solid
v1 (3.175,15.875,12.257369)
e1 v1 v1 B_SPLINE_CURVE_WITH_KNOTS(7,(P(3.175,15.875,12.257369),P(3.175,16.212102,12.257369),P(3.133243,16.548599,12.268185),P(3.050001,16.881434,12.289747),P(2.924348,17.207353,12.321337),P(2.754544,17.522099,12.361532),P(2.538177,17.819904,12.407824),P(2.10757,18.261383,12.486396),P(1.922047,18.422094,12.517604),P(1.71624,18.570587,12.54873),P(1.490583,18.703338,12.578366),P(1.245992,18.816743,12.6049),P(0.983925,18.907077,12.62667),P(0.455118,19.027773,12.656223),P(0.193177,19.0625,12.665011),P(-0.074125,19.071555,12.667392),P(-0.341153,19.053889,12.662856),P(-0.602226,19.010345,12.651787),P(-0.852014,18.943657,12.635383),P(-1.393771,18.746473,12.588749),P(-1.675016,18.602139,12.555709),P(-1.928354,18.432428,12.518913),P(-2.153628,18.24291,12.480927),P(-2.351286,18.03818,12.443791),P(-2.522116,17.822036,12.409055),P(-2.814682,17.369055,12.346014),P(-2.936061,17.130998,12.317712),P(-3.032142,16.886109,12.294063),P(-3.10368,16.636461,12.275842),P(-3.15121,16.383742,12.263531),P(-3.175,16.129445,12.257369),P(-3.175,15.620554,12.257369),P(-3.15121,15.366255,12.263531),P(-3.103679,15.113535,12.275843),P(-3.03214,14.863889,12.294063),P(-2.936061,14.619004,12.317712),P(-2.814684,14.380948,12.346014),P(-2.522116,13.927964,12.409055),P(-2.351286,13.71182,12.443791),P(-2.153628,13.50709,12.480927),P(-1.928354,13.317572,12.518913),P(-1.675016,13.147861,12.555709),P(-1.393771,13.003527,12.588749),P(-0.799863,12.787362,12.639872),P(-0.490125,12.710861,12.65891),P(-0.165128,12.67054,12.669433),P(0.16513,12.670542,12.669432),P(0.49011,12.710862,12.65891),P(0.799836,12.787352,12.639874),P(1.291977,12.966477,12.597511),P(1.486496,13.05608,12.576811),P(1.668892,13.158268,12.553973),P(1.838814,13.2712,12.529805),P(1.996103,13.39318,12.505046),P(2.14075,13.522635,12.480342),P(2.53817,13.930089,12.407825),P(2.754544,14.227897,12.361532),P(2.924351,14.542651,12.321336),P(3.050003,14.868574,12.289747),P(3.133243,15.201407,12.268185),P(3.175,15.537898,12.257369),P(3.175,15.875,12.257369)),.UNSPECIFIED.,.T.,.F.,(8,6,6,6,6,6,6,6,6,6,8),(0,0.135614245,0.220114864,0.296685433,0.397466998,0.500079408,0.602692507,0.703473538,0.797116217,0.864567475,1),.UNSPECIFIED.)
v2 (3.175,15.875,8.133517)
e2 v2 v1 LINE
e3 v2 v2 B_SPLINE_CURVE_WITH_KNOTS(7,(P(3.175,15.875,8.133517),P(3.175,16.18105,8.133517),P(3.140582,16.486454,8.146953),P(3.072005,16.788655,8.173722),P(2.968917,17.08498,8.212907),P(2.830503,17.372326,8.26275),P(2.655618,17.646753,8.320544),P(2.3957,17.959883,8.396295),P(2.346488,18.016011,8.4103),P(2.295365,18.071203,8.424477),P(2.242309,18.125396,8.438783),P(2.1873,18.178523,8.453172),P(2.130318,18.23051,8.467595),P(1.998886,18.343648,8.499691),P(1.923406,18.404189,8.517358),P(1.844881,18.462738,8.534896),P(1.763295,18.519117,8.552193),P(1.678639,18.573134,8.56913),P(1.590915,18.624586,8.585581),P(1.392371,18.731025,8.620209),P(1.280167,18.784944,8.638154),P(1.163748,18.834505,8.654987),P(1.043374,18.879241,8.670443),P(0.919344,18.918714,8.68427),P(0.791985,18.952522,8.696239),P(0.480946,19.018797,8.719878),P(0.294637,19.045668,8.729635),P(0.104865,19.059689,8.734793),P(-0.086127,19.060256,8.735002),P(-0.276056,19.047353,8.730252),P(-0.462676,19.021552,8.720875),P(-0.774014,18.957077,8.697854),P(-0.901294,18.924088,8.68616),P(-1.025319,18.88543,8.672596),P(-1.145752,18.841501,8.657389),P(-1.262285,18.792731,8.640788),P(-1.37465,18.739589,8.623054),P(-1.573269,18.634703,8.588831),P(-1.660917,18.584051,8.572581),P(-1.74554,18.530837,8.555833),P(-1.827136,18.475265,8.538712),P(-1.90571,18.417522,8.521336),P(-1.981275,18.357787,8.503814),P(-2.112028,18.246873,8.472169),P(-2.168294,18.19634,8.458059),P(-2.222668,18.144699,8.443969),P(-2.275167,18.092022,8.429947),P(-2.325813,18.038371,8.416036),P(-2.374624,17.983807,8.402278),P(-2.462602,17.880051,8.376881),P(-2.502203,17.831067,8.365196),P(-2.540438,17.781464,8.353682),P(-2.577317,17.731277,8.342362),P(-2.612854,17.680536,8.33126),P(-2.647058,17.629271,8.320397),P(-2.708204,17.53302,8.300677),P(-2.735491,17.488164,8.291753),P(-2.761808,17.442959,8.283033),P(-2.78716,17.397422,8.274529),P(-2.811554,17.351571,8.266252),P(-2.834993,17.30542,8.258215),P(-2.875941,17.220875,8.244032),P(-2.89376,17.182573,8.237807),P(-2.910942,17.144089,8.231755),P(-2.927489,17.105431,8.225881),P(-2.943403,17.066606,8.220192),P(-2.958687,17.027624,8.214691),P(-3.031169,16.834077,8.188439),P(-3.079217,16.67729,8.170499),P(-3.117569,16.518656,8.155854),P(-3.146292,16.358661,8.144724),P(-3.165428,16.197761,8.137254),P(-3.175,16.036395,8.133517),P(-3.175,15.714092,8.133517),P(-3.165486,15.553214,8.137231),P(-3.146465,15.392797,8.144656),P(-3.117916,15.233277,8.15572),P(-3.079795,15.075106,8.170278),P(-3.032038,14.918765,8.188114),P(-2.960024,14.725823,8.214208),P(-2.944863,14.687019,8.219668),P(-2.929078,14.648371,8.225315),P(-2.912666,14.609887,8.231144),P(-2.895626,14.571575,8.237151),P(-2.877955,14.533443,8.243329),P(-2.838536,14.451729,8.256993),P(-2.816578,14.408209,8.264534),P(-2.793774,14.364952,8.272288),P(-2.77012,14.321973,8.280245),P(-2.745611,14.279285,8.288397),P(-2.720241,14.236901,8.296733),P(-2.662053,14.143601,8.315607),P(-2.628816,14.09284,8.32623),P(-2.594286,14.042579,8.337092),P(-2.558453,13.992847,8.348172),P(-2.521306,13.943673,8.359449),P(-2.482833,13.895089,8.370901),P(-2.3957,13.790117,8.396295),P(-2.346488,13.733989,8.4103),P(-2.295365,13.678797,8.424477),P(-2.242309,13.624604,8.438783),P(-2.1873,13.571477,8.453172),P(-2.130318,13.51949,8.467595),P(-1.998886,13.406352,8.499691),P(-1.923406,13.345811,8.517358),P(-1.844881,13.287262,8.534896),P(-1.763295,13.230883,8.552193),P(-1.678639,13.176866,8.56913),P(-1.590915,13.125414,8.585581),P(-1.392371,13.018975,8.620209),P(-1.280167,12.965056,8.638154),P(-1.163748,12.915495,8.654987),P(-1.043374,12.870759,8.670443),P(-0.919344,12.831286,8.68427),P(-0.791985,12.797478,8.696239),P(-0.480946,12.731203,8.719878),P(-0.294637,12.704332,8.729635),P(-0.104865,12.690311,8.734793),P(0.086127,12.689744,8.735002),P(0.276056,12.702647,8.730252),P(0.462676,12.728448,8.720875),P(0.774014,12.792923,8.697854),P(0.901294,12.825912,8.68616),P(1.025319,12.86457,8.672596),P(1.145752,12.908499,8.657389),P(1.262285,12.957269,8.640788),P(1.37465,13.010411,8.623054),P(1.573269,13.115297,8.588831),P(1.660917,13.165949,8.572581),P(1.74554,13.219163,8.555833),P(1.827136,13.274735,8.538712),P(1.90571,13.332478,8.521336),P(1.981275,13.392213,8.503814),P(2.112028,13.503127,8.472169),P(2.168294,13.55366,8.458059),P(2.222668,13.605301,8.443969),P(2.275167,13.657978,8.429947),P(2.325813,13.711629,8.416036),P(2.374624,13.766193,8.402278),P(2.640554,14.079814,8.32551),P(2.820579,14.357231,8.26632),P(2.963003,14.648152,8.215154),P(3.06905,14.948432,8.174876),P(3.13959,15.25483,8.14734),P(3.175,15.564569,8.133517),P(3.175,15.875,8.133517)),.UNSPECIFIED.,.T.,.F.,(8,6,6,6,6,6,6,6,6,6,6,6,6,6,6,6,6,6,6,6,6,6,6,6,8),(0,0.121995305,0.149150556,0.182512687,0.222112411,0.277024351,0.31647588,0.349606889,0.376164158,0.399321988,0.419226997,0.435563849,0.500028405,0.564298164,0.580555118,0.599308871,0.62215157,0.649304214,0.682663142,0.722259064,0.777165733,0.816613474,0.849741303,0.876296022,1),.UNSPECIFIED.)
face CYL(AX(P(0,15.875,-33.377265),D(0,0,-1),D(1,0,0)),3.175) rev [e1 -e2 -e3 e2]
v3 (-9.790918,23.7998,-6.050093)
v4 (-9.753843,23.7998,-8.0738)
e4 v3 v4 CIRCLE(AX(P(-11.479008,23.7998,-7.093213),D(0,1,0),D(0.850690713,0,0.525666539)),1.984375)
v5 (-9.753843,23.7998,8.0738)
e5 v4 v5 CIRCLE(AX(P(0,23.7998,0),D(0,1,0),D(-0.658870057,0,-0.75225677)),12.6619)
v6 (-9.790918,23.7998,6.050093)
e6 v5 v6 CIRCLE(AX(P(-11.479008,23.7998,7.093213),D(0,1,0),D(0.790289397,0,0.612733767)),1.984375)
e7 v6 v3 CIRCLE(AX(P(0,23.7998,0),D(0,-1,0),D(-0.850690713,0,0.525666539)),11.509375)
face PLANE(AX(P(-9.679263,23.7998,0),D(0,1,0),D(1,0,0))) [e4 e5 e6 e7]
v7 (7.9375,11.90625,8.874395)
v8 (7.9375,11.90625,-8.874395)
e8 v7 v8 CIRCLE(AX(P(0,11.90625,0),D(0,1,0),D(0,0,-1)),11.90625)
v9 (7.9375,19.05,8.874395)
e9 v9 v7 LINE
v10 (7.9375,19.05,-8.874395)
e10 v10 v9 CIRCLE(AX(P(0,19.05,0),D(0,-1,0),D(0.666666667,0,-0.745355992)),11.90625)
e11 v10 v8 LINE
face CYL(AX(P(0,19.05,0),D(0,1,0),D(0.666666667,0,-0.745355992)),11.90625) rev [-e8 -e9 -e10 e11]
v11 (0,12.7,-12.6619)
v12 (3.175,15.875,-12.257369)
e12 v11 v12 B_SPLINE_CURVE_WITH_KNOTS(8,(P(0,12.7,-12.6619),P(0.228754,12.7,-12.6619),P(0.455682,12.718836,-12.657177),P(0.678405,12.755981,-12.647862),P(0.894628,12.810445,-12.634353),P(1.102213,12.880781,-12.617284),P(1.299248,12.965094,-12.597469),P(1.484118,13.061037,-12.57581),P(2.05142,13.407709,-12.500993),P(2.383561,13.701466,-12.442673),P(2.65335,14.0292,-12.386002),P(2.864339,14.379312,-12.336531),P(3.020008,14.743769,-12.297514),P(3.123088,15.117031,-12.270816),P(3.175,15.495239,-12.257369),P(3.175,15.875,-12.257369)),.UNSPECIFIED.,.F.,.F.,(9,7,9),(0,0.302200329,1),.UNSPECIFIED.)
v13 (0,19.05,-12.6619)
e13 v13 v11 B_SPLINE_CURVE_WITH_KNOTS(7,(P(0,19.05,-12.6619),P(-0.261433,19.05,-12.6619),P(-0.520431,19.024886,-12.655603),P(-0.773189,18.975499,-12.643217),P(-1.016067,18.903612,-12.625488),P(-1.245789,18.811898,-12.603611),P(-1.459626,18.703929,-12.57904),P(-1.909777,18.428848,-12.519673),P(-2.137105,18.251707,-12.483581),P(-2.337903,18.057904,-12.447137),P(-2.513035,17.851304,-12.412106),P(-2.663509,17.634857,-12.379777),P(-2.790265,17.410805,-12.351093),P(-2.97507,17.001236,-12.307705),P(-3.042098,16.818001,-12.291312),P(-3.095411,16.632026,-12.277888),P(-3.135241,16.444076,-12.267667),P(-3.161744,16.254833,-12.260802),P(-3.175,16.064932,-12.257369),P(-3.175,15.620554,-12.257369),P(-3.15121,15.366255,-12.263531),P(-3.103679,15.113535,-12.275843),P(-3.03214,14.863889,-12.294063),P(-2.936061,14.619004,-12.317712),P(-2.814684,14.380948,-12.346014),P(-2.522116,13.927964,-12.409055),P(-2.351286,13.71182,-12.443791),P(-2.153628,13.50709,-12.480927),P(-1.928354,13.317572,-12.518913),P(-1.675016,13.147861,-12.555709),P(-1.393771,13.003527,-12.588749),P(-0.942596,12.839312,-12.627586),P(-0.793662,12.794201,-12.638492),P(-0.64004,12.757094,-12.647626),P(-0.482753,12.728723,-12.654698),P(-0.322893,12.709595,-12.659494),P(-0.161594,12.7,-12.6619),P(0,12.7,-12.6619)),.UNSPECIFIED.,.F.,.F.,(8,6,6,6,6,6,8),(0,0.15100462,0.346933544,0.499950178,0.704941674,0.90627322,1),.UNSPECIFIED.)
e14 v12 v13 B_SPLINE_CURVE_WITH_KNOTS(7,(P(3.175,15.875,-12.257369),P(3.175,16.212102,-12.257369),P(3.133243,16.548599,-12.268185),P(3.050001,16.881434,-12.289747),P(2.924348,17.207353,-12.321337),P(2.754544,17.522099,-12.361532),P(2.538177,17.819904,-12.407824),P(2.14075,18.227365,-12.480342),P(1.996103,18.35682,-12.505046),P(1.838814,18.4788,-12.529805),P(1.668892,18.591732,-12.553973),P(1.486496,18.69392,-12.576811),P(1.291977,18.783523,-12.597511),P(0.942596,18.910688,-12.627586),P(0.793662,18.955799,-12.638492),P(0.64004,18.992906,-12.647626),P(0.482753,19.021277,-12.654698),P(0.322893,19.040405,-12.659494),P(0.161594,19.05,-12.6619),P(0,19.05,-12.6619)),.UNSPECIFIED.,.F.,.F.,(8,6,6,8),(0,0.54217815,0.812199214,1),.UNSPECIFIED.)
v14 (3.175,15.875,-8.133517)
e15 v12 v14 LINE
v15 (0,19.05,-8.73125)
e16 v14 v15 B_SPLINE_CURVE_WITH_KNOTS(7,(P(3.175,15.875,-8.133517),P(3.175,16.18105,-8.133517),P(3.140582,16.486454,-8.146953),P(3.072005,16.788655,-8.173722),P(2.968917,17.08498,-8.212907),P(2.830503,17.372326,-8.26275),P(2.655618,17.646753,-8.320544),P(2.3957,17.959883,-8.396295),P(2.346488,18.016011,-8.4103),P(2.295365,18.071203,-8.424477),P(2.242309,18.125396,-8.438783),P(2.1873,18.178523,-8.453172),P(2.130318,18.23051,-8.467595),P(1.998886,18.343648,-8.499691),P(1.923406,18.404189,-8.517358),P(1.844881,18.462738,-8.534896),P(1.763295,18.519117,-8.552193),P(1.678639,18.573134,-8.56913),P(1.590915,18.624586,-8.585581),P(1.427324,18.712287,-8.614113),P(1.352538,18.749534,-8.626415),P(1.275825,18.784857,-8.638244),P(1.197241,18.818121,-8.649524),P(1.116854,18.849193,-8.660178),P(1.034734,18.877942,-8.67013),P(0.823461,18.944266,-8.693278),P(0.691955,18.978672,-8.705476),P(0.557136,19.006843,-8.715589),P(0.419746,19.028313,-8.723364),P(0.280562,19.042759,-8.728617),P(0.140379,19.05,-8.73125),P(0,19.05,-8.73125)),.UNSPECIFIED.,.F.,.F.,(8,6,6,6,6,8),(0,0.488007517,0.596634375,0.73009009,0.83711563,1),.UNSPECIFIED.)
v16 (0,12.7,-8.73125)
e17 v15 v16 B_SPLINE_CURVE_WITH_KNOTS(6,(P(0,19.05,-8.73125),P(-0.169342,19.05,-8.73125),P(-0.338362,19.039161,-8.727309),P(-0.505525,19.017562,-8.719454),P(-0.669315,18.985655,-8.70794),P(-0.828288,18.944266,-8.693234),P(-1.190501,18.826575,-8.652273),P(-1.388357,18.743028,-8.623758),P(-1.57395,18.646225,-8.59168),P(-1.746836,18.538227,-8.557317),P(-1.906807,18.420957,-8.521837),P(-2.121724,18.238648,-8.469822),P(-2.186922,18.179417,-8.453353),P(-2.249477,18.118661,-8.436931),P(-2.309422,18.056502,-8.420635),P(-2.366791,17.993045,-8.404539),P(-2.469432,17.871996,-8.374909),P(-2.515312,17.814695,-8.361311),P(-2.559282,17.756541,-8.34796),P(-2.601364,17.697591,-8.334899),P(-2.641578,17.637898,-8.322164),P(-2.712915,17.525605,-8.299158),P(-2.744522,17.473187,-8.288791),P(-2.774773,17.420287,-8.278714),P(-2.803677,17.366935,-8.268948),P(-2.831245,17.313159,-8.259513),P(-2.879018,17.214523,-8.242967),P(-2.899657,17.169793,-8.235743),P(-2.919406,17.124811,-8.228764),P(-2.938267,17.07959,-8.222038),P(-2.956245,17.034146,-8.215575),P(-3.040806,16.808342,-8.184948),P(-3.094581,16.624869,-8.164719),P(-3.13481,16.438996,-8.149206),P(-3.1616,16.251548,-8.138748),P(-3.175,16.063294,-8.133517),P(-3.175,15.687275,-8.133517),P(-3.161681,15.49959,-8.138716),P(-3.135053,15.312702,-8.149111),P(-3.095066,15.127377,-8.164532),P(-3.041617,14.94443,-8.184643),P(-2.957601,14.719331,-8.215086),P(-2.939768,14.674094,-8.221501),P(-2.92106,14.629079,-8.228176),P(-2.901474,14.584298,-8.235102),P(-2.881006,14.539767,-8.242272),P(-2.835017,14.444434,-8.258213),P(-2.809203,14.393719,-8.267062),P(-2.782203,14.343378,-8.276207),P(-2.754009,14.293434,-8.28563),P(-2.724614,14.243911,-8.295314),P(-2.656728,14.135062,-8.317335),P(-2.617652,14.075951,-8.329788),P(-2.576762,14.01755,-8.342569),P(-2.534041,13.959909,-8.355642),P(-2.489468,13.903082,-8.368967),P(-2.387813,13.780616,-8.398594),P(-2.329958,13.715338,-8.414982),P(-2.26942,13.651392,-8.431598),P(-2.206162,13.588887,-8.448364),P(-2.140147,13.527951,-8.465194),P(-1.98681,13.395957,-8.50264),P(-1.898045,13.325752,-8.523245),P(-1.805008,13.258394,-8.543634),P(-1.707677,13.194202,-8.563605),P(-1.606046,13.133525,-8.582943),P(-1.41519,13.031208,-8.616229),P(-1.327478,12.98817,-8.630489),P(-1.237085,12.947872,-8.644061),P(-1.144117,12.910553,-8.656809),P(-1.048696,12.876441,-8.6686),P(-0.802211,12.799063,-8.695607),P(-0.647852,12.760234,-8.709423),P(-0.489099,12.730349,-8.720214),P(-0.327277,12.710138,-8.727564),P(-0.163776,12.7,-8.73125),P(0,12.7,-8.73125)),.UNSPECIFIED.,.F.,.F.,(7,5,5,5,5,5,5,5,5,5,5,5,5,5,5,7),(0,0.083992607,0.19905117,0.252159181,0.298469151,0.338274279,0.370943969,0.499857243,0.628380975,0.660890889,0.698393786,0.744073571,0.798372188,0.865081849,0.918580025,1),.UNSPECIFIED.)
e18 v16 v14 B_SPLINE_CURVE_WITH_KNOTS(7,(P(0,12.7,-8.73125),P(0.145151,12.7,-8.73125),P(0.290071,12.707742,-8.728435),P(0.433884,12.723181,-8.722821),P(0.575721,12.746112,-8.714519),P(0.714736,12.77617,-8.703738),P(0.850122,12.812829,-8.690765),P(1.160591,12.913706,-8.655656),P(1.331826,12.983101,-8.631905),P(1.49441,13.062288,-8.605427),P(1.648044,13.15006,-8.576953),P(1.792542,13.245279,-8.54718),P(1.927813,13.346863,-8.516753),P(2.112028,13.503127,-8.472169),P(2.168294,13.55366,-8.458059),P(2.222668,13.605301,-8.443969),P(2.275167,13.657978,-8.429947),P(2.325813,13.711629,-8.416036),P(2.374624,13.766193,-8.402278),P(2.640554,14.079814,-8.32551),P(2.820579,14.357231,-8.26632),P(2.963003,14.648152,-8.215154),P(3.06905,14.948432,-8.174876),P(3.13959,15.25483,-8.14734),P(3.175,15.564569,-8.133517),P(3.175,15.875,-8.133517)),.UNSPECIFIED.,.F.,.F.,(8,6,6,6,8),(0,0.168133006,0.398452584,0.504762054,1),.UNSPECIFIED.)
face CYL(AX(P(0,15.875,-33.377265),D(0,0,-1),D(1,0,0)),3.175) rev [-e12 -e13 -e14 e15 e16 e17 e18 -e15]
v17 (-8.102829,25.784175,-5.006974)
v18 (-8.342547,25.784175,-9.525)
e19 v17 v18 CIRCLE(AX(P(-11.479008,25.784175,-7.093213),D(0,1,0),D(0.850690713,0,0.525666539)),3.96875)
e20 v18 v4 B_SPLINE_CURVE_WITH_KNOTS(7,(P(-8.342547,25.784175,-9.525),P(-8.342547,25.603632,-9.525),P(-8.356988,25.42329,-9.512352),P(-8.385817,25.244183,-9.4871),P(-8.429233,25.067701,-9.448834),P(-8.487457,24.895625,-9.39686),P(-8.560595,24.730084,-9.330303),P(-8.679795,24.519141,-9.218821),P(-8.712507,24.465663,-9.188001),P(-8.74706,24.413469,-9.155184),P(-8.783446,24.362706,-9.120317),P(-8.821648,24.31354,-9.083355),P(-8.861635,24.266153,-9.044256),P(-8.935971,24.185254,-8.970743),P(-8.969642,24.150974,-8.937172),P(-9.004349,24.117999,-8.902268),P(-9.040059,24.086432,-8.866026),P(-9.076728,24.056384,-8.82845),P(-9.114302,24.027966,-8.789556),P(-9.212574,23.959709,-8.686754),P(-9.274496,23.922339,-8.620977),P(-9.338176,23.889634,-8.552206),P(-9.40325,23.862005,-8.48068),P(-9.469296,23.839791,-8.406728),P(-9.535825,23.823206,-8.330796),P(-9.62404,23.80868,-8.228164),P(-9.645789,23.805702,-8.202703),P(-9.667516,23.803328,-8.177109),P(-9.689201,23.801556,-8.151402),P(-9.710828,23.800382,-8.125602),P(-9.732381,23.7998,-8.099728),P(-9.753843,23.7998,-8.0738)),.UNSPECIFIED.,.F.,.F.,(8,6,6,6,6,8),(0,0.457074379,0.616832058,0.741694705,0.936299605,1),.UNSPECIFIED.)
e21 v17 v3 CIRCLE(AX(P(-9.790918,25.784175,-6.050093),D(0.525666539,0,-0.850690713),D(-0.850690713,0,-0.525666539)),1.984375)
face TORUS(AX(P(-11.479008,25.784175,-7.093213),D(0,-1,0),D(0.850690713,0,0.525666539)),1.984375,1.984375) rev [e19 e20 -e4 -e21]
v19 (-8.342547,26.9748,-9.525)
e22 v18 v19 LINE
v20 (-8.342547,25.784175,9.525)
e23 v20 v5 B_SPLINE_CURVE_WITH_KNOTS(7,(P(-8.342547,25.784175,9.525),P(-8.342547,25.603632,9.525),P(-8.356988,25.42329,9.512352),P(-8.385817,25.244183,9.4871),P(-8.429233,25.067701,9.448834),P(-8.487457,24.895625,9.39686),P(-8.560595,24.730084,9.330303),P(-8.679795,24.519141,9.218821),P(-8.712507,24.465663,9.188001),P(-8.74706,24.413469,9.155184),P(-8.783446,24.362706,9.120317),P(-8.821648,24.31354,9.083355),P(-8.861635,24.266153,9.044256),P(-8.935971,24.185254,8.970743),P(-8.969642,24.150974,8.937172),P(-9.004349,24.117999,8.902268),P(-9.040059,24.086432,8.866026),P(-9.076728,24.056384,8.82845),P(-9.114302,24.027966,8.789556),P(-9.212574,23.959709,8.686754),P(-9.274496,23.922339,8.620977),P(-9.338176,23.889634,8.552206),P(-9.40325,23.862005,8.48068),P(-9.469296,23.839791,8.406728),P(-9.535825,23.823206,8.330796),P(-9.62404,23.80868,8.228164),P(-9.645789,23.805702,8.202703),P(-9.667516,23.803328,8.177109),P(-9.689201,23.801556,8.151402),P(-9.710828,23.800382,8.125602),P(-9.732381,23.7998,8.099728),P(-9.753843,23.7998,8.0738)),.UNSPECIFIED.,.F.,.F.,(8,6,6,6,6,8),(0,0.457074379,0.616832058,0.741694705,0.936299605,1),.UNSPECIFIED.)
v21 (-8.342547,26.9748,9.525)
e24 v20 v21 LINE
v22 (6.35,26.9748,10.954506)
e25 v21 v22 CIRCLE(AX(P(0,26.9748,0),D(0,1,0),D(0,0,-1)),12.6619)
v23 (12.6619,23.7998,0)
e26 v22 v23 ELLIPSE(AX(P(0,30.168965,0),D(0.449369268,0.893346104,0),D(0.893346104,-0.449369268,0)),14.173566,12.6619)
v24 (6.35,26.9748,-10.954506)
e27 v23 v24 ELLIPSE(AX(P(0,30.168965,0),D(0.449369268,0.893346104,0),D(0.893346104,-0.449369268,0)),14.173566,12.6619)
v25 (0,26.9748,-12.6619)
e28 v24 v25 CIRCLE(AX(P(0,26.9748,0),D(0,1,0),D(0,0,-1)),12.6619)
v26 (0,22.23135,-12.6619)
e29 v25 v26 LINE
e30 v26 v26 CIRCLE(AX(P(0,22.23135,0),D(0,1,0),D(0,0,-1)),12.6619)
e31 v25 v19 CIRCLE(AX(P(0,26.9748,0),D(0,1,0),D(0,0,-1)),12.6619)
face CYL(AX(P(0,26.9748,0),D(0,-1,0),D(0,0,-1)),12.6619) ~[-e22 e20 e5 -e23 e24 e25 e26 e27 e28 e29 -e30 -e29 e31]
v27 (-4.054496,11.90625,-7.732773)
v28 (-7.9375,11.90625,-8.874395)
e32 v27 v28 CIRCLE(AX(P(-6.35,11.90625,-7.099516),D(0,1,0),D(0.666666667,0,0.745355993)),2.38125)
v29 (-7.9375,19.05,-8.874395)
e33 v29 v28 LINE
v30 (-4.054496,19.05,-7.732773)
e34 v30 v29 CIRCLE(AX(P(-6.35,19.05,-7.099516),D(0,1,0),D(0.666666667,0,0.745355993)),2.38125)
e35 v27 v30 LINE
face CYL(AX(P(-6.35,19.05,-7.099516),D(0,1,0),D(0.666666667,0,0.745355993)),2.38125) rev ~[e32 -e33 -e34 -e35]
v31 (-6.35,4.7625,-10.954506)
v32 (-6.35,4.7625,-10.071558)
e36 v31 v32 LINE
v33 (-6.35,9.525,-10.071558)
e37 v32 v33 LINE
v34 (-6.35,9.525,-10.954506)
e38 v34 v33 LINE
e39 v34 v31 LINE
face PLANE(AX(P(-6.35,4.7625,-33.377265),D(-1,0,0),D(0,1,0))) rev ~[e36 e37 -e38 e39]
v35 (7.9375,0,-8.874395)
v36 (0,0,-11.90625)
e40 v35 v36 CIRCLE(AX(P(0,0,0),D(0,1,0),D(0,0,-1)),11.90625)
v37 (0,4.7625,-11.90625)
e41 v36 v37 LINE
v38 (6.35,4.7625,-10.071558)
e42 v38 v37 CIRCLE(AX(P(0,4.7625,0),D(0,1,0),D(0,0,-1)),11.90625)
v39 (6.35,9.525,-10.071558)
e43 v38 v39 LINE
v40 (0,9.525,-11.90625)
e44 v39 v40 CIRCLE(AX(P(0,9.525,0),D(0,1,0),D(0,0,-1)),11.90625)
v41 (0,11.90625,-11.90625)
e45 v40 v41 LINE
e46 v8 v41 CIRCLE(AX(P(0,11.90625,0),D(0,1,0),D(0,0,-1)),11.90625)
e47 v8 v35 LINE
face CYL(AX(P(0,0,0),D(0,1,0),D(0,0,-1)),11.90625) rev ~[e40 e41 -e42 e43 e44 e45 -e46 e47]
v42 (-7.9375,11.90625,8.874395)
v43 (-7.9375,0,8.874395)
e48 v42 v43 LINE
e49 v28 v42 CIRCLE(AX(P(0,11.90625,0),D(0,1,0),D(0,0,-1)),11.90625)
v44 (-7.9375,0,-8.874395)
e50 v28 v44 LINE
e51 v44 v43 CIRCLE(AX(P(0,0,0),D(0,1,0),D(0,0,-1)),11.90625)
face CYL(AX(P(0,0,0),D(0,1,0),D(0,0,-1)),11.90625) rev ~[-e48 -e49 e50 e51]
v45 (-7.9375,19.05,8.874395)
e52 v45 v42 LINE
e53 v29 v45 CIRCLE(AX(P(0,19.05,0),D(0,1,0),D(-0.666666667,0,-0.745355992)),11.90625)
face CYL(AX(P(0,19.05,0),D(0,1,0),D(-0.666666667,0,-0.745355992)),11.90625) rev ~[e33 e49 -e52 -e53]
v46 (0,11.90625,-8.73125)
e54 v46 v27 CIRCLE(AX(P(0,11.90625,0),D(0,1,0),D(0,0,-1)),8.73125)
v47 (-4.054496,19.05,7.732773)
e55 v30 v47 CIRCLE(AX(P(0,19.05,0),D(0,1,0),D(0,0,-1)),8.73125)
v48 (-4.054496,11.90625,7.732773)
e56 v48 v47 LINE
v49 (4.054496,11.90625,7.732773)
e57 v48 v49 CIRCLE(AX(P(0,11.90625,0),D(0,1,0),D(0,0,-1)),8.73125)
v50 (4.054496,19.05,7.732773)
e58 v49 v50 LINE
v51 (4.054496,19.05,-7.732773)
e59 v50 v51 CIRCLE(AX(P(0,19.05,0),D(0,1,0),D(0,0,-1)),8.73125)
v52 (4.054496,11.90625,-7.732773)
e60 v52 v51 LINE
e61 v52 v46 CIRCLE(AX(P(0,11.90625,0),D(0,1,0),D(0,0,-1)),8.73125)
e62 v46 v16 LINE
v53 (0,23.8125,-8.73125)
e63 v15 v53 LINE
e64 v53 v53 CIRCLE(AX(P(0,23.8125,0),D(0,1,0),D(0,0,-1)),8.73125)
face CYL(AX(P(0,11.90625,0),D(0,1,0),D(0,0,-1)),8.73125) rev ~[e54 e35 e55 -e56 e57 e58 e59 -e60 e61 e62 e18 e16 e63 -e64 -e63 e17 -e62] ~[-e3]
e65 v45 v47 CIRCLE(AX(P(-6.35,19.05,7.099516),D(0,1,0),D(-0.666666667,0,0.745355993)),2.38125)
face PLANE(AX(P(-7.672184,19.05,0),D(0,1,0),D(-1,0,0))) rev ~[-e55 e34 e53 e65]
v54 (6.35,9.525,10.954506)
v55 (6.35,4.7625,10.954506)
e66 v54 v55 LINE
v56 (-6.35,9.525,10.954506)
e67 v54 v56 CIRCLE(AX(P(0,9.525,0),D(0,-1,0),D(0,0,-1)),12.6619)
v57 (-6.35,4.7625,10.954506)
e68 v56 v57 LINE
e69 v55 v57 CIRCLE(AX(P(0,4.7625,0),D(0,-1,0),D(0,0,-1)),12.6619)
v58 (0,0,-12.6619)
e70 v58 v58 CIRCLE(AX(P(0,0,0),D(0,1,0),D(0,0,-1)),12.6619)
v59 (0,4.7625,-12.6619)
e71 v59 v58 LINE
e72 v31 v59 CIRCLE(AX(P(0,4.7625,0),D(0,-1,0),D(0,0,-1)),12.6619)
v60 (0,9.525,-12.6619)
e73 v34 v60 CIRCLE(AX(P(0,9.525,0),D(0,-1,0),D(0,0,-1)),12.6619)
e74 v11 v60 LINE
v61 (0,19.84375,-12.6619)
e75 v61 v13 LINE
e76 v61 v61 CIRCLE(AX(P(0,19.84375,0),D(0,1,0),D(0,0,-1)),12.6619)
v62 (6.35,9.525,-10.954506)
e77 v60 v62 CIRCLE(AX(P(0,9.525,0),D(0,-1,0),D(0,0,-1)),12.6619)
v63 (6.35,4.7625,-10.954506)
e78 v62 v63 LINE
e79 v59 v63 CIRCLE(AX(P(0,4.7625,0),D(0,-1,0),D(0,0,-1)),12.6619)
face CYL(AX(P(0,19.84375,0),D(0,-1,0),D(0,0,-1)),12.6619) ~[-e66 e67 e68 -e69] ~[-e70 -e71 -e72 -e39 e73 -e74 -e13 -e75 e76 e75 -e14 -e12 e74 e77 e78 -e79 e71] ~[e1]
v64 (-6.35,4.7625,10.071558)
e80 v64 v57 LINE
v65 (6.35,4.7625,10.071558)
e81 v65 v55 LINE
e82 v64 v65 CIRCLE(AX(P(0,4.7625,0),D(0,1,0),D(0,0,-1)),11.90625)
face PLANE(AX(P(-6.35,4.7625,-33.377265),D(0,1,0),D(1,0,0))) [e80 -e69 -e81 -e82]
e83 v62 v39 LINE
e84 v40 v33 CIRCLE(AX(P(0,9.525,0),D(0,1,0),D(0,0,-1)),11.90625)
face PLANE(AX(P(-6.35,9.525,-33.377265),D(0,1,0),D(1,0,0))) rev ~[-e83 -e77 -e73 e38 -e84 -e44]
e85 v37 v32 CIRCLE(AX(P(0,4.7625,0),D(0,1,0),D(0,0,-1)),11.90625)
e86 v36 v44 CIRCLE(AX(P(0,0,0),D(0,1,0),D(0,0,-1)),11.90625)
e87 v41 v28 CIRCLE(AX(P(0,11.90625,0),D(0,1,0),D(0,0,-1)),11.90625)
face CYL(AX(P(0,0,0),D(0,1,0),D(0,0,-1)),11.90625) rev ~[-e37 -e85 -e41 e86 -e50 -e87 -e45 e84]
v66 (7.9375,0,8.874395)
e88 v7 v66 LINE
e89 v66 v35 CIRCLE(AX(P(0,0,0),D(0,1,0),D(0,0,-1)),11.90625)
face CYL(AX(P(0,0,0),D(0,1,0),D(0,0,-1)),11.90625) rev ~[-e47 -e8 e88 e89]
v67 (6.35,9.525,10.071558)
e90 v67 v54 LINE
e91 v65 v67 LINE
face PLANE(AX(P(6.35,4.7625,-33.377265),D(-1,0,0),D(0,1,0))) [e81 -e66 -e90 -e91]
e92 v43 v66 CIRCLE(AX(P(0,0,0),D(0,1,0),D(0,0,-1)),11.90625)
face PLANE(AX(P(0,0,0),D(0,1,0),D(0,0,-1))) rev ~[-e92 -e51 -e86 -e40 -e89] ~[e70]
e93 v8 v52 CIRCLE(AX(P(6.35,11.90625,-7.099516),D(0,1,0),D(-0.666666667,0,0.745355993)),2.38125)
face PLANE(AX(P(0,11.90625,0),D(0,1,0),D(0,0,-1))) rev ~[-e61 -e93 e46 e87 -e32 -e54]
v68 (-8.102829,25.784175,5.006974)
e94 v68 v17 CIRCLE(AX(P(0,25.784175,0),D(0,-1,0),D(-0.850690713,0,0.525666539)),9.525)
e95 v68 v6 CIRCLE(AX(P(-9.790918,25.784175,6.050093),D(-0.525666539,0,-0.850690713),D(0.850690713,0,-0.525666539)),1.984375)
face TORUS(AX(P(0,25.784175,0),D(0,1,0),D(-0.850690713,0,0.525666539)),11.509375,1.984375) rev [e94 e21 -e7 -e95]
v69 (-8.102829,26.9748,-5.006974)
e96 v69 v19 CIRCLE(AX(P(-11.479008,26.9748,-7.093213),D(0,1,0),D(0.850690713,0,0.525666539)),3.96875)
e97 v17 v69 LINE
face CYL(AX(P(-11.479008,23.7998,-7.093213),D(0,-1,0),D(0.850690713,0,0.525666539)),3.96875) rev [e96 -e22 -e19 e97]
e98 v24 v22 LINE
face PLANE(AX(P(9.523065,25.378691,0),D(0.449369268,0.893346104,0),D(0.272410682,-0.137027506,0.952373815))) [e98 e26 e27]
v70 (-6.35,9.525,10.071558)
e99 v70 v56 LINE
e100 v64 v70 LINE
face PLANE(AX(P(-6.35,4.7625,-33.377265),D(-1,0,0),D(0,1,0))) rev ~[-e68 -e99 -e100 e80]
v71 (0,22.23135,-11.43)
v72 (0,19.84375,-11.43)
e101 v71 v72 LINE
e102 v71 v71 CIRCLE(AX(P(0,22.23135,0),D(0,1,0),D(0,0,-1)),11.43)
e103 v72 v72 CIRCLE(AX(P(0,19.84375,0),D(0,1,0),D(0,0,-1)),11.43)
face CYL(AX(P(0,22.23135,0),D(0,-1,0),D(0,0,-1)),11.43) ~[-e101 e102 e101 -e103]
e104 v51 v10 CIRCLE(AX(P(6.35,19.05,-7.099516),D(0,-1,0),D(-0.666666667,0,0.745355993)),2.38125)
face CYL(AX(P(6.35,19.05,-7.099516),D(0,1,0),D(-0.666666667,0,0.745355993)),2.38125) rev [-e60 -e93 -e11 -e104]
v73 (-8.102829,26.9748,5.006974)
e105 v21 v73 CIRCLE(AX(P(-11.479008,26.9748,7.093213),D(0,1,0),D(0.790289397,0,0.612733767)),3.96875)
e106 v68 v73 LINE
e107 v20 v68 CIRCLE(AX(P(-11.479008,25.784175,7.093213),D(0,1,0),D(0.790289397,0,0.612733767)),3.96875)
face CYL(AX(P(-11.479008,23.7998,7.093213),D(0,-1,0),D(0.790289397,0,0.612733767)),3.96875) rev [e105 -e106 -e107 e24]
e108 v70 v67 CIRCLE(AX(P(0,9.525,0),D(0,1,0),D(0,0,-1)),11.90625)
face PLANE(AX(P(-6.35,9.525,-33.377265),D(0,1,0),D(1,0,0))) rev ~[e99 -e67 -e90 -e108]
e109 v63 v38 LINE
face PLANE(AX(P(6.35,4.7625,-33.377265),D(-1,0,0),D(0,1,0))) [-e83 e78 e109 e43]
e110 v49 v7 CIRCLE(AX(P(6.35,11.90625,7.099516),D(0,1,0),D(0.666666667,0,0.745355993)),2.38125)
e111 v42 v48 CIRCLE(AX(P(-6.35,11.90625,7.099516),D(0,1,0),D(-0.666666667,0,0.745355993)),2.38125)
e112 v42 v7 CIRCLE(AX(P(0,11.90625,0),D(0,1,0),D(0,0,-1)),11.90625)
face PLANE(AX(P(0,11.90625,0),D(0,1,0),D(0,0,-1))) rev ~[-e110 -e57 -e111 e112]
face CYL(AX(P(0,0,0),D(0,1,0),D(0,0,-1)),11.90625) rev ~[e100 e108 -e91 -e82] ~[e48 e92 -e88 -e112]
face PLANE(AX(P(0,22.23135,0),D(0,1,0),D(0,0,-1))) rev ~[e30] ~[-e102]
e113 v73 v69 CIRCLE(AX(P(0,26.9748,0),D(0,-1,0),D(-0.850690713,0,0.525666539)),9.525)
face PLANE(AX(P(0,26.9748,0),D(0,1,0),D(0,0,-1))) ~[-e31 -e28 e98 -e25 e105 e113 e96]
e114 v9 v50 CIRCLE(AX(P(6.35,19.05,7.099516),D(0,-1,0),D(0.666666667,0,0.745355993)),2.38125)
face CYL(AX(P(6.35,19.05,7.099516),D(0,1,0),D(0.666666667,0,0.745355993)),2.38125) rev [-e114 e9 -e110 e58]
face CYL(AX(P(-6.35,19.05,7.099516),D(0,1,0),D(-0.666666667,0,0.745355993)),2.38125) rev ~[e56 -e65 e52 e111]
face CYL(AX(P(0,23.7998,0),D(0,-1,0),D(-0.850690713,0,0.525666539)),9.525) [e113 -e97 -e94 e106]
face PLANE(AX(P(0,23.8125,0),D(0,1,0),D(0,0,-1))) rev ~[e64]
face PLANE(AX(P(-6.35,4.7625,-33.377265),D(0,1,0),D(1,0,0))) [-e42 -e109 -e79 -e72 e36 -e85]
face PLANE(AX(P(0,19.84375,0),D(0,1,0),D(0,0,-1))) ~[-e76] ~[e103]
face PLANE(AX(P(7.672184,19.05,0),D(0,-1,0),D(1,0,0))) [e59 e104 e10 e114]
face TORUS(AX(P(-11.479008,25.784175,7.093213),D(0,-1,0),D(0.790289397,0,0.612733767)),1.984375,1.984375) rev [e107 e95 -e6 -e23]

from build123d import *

# Parameters (mm, degrees)
CUT_EXTRUDE1_DEPTH      = 33.377264527
CUT_EXTRUDE1_DEPTH_BACK = 33.377264527
SKETCH13_R              = 3.175
CUT_EXTRUDE2_DEPTH      = 33.377264605
CUT_EXTRUDE2_DEPTH_BACK = 33.377264605
SKETCH14_W              = 12.7
SKETCH14_H              = 4.7625
CUT_EXTRUDE3_DEPTH      = 33.377264605
CUT_EXTRUDE3_DEPTH_BACK = 19.05
CUT_EXTRUDE5_START      = -3.175
CUT_EXTRUDE5_DEPTH      = 3.175
FILLET3_R               = 1.984375
CUT_EXTRUDE4_DEPTH      = 46.545358174


with BuildPart() as part:
    # Sketch1 → Revolve1 (revolve)
    with BuildSketch(Plane.XY, mode=Mode.PRIVATE) as revolve1_sk:
        Polygon((0, 26.9748), (12.6619, 26.9748), (12.6619, 22.23135), (11.43, 22.23135), (11.43, 19.84375), (12.6619, 19.84375), (12.6619, 0), (11.90625, 0), (11.90625, 11.90625), (8.73125, 11.90625), (8.73125, 23.8125), (0, 23.8125), align=None)
    revolve(revolve1_sk.sketch.rotate(Axis((0, -1015.176230553, 0), (0, 1, 0)), 90), axis=Axis((0, -1015.176230553, 0), (0, 1, 0)))

    # Sketch13 → Cut-Extrude1 (cut, two sides: drawn at the far end of the back side and taken through both)
    with BuildSketch(Plane.XY.offset(-CUT_EXTRUDE1_DEPTH_BACK)):
        with Locations((0, 15.875)):
            Circle(SKETCH13_R)
    extrude(amount=CUT_EXTRUDE1_DEPTH + CUT_EXTRUDE1_DEPTH_BACK, mode=Mode.SUBTRACT)

    # Sketch14 → Cut-Extrude2 (cut, two sides: drawn at the far end of the back side and taken through both)
    with BuildSketch(Plane.XY.offset(-CUT_EXTRUDE2_DEPTH_BACK)):
        with Locations((0, 7.14375)):
            Rectangle(SKETCH14_W, SKETCH14_H)
    extrude(amount=CUT_EXTRUDE2_DEPTH + CUT_EXTRUDE2_DEPTH_BACK, mode=Mode.SUBTRACT)

    # Sketch15 → Cut-Extrude3 (cut, two sides: drawn at the far end of the back side and taken through both)
    with BuildSketch(Plane.XZ.offset(-CUT_EXTRUDE3_DEPTH_BACK)):
        with BuildLine():
            ThreePointArc((7.9375, 8.874394786), (4.575121043, 8.687015829), (4.7625, 5.324636871))
            ThreePointArc((4.7625, 5.324636871), (7.14375, 0), (4.7625, -5.324636871))
            ThreePointArc((4.7625, -5.324636871), (4.575121043, -8.687015829), (7.9375, -8.874394786))
            ThreePointArc((7.9375, -8.874394786), (11.90625, 0), (7.9375, 8.874394786))
        make_face()
        with BuildLine():
            ThreePointArc((-4.7625, 5.324636871), (-7.14375, 0), (-4.7625, -5.324636871))
            ThreePointArc((-4.7625, -5.324636871), (-4.575121043, -8.687015829), (-7.9375, -8.874394786))
            ThreePointArc((-7.9375, -8.874394786), (-11.90625, 0), (-7.9375, 8.874394786))
            ThreePointArc((-7.9375, 8.874394786), (-4.575121043, 8.687015829), (-4.7625, 5.324636871))
        make_face()
    extrude(amount=CUT_EXTRUDE3_DEPTH + CUT_EXTRUDE3_DEPTH_BACK, mode=Mode.SUBTRACT)

    # Sketch16 → Cut-Extrude5 (cut)
    with BuildSketch(Plane(origin=(0, 26.9748, 0), x_dir=(1, 0, 0), z_dir=(0, 1, 0)).offset(CUT_EXTRUDE5_START)):
        with BuildLine():
            ThreePointArc((-8.102829044, 5.006973784), (-7.515832375, 7.303491278), (-8.34254677, 9.525))
            ThreePointArc((-8.34254677, 9.525), (-12.6619, 0), (-8.34254677, -9.525))
            ThreePointArc((-8.34254677, -9.525), (-7.515832375, -7.303491278), (-8.102829044, -5.006973784))
            ThreePointArc((-8.102829044, -5.006973784), (-9.525, 0), (-8.102829044, 5.006973784))
        make_face()
    extrude(amount=CUT_EXTRUDE5_DEPTH, mode=Mode.SUBTRACT)

    # Fillet3
    fillet3_edges = [part.edges().sort_by_distance(p)[0] for p in [
        (-7.515832375, 23.7998, 7.303491278),
        (-7.515832375, 23.7998, -7.303491278),
        (-9.525, 23.7998, 0),
    ]]
    fillet(fillet3_edges, radius=FILLET3_R)

    # 3DSketch2 → Cut-Extrude4 (cut, through all, along a direction that is not the sketch's normal)
    with BuildSketch(Plane(origin=(6.35, 26.9748, -10.954506452), x_dir=(0.2724106821506037, -0.13702750611197365, 0.9523738146436912), z_dir=(0.4493692675606063, 0.8933461039104856, 0))):
        Polygon((0, 0), (20.865570195, -6.68078041), (23.170530429, 0), (2.004022399, 6.777135294), align=None)
    extrude(amount=CUT_EXTRUDE4_DEPTH, dir=(0, 1, 0), mode=Mode.SUBTRACT)


solid = part.part
